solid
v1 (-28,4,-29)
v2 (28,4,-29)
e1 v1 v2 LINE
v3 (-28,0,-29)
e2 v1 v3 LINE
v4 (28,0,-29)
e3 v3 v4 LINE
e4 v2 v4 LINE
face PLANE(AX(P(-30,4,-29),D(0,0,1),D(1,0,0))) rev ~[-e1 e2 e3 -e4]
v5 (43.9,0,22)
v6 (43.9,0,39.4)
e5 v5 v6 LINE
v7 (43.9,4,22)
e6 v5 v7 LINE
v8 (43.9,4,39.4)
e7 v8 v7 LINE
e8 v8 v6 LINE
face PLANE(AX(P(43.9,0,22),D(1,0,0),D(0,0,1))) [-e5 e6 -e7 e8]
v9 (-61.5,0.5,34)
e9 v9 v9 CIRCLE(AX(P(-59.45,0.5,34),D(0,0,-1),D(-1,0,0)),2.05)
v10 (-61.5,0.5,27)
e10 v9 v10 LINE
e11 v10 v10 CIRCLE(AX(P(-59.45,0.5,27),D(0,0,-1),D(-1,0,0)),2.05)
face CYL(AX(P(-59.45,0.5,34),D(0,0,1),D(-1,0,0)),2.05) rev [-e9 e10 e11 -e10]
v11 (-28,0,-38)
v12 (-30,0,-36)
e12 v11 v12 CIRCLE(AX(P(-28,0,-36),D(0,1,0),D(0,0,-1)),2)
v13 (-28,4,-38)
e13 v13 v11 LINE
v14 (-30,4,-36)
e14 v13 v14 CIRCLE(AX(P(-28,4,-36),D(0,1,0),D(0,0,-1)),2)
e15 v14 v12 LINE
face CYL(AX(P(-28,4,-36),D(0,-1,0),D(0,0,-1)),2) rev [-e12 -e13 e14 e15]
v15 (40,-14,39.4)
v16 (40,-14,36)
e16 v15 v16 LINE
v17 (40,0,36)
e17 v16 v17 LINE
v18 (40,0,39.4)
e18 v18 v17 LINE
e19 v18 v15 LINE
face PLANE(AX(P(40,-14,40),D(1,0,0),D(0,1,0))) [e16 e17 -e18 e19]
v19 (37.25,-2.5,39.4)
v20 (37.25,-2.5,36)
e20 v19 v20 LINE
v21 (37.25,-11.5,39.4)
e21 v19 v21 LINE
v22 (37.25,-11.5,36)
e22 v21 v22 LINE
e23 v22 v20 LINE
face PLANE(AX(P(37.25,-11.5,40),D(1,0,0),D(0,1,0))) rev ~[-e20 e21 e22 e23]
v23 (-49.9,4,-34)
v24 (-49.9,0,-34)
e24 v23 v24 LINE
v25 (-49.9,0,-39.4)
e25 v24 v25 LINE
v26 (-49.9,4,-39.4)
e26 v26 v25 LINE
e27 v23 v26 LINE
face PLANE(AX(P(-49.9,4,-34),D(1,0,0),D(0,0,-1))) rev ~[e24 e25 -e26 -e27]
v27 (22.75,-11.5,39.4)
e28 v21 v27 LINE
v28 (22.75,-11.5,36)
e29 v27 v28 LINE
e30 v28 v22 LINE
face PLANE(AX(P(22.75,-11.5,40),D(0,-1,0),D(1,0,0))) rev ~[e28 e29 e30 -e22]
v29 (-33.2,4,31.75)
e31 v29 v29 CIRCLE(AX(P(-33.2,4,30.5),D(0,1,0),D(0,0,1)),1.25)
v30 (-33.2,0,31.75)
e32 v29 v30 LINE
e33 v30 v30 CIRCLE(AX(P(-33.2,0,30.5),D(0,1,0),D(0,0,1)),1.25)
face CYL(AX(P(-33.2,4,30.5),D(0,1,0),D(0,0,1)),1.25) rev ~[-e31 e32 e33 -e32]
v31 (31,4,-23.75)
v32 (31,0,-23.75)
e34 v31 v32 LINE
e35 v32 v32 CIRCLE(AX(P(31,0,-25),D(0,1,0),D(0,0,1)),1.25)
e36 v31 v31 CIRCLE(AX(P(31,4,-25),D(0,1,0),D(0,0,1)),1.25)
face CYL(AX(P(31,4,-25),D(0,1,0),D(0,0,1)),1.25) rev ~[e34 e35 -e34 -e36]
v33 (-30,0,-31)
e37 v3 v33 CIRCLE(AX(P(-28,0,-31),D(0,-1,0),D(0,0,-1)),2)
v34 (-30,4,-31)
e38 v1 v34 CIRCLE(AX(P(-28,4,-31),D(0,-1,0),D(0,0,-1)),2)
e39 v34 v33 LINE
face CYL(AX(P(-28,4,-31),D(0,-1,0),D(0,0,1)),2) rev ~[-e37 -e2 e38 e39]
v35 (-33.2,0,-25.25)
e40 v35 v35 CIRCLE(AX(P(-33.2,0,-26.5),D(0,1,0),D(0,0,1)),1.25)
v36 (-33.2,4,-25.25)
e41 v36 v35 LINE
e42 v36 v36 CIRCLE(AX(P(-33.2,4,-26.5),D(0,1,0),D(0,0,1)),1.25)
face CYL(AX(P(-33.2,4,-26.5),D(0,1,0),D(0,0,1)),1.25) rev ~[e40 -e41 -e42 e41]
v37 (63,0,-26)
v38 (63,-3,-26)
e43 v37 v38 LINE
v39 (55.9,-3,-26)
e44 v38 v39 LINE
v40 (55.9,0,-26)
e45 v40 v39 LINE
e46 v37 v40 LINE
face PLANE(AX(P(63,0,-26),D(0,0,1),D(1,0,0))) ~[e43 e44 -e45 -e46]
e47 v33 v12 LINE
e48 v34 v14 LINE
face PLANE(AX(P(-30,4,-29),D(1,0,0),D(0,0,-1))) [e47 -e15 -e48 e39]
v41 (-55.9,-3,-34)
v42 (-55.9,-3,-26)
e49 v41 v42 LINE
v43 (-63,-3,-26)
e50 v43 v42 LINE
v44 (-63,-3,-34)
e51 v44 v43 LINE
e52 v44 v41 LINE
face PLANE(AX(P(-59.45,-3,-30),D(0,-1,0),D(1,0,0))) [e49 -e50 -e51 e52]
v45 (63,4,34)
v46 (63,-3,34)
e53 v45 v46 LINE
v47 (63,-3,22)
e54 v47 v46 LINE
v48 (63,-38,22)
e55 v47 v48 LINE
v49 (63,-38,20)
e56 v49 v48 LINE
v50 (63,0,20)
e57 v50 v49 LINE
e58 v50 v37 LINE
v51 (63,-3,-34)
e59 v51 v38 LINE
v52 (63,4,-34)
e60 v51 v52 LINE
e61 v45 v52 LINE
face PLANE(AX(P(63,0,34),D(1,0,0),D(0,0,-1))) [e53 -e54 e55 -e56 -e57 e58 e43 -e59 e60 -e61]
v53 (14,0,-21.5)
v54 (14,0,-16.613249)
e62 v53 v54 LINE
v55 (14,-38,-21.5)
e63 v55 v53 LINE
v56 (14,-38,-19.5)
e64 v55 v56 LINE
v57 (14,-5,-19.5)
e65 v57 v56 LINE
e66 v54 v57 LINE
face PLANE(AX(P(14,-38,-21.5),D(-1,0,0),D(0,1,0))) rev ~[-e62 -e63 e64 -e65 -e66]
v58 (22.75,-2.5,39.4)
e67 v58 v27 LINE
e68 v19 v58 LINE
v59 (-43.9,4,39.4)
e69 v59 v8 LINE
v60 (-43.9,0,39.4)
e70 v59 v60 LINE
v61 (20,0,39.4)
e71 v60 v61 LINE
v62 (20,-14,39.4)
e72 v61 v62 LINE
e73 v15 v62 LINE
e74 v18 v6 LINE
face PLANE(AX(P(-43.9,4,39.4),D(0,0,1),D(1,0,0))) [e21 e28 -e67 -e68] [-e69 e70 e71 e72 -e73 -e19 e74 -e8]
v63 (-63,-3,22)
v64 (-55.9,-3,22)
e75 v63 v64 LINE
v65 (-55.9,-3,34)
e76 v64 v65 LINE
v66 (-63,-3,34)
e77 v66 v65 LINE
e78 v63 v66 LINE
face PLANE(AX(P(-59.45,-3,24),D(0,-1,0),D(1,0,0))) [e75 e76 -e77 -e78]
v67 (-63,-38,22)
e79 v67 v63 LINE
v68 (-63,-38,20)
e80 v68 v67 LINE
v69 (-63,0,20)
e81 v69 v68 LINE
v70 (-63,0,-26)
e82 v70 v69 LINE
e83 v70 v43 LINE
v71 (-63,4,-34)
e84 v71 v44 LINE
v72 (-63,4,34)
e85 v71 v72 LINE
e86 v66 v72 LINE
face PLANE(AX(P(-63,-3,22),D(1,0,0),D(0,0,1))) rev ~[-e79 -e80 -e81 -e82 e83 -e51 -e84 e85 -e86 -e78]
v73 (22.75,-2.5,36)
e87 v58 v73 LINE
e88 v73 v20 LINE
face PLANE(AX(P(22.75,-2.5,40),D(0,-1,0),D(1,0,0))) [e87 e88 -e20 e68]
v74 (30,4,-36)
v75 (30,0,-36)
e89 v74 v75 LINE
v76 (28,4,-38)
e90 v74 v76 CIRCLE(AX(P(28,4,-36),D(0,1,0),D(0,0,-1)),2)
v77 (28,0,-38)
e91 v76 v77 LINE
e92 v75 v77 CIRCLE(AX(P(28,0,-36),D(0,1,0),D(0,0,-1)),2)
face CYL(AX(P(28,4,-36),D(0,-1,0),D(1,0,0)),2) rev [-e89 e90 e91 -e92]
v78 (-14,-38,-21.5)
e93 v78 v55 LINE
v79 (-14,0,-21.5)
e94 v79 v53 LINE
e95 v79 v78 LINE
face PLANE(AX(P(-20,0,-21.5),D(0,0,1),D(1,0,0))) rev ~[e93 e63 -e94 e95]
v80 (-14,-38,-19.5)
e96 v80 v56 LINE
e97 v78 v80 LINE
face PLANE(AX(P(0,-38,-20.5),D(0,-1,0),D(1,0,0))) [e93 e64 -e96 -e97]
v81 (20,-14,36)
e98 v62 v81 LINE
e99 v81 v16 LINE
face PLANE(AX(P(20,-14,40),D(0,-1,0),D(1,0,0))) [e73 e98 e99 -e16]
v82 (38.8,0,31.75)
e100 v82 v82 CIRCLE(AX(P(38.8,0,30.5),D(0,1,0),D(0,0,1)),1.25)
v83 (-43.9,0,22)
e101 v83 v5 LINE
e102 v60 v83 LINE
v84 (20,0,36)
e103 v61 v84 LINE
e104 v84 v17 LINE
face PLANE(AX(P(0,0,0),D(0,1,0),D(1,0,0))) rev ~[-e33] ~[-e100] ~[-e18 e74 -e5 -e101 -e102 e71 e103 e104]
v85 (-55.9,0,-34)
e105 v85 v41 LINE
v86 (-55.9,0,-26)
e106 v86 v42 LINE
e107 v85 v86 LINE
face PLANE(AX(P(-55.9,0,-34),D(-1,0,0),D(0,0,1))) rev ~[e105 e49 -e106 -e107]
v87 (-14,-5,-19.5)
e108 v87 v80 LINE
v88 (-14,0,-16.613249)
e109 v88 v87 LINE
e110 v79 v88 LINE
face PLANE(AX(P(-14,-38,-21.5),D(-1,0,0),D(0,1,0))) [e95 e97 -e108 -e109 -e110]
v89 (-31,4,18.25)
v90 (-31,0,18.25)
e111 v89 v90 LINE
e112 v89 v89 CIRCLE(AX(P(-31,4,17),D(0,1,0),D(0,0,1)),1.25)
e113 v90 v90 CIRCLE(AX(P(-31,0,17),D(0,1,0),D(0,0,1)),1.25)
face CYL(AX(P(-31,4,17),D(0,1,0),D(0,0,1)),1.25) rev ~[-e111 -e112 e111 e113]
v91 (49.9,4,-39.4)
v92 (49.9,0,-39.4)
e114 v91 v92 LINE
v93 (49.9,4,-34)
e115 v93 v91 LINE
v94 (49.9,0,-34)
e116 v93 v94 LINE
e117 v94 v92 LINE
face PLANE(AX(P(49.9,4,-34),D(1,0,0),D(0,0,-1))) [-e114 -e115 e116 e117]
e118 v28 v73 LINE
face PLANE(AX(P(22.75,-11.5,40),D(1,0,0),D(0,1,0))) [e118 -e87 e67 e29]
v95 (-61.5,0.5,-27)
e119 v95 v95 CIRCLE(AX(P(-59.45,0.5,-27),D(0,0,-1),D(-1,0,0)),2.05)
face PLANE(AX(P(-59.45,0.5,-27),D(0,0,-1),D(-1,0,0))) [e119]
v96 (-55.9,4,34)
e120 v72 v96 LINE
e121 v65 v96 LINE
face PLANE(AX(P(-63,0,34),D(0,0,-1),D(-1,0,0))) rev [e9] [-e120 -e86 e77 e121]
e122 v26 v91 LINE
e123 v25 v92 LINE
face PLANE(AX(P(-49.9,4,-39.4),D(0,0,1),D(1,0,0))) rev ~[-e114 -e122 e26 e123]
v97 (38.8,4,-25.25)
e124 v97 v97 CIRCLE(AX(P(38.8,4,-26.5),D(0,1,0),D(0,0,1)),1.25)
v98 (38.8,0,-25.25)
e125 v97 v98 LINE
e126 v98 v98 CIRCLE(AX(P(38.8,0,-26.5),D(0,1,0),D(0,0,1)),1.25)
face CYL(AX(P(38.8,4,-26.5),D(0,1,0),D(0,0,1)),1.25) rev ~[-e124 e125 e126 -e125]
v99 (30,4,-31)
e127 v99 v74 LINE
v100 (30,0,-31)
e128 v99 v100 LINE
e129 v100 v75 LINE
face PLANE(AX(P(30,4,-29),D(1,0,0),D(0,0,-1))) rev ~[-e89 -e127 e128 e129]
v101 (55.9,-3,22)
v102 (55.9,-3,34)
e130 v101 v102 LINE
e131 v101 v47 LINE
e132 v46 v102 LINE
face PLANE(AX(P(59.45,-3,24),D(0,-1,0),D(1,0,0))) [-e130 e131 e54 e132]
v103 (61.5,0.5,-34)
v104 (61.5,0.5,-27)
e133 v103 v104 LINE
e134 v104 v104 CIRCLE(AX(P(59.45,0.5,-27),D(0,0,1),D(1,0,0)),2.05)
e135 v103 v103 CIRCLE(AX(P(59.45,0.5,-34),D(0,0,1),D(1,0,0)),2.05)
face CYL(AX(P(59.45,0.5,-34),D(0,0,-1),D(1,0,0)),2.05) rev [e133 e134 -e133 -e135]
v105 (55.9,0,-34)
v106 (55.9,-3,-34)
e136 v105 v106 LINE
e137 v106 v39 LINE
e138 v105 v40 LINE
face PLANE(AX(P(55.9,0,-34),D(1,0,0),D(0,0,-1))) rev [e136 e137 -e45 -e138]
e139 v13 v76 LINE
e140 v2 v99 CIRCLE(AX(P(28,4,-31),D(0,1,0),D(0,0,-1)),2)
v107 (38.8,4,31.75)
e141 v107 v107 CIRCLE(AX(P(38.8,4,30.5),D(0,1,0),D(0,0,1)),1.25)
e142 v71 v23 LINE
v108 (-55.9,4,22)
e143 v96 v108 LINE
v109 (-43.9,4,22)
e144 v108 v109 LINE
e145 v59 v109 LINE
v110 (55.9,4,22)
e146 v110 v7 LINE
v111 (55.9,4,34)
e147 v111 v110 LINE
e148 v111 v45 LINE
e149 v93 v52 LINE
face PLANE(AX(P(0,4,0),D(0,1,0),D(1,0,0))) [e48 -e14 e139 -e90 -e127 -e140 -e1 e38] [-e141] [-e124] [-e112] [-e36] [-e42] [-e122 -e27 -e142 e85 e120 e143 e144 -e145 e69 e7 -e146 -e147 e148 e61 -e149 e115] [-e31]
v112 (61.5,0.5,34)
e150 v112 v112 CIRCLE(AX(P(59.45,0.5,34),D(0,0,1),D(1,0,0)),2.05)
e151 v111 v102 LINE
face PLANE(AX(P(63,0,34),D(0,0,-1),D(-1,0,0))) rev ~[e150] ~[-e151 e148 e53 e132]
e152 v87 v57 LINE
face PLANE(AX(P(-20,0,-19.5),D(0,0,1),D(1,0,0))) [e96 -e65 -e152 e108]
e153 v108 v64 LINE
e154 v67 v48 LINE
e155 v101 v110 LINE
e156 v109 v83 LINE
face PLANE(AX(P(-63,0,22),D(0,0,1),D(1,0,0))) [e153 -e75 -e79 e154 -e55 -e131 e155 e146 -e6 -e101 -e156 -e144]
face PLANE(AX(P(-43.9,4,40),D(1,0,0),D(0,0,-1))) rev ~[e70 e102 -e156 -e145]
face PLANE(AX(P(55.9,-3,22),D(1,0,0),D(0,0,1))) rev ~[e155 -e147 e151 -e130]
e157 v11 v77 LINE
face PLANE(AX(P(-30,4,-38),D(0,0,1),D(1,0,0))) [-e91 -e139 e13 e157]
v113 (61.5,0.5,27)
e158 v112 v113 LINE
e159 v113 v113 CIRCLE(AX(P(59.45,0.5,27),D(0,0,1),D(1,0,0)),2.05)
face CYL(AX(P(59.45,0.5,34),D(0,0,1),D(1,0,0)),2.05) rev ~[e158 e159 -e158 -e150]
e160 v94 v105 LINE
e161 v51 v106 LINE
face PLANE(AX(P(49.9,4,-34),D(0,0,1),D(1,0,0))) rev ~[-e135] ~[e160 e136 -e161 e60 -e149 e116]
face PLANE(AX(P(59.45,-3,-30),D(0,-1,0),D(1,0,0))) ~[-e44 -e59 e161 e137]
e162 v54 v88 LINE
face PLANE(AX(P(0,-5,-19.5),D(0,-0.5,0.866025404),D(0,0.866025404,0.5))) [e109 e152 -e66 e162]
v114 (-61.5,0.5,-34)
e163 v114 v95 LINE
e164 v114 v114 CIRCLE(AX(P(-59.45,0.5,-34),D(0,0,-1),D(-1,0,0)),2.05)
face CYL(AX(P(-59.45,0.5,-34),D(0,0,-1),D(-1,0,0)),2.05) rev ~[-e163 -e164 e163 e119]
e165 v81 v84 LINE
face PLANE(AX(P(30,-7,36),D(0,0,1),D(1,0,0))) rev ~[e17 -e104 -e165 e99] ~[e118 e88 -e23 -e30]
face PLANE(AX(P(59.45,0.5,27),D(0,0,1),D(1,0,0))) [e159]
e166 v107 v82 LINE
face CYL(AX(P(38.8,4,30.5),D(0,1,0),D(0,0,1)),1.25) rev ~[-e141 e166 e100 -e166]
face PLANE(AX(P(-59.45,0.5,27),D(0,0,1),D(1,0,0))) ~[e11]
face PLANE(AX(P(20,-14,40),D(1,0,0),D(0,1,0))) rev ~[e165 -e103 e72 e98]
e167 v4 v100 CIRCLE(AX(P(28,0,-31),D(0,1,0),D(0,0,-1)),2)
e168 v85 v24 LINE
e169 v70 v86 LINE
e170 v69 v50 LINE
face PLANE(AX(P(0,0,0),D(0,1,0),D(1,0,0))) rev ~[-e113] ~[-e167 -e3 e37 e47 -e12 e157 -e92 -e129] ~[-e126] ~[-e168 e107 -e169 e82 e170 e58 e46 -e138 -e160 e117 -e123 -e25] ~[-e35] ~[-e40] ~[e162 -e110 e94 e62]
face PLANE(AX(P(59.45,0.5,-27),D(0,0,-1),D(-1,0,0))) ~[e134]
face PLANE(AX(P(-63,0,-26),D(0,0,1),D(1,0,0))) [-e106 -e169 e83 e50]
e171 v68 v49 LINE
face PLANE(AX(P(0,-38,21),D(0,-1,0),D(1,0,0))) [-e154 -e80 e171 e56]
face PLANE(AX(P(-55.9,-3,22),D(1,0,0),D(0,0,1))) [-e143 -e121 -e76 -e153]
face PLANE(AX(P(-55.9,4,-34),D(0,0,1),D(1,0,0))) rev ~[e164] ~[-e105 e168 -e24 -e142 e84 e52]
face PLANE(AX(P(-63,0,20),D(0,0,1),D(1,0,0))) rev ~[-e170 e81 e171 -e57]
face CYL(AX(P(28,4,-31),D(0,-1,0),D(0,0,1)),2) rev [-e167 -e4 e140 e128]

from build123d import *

# Parameters (mm, degrees)
BOSS_EXTRUDE1_DEPTH             = 4
SKETCH3_W                       = 7.1
SKETCH3_H                       = 8
BOSS_EXTRUDE3_DEPTH             = 3
SKETCH4_R                       = 2.05
CUT_EXTRUDE1_DEPTH              = 7
MIRROR2_COPY_1_SKETCH_W         = 7.1
MIRROR2_COPY_1_SKETCH_H         = 8
MIRROR2_COPY_1_DEPTH            = 3
MIRROR2_COPY_2_SKETCH_R         = 2.05
MIRROR2_COPY_2_DEPTH            = 7
SKETCH5_W                       = 60
SKETCH5_H                       = 9
CUT_EXTRUDE2_DEPTH              = 76.4917214
FILLET1_R                       = 2
SKETCH7_W                       = 111.8
SKETCH7_H                       = 1
CUT_EXTRUDE3_DEPTH              = 76.4917214
SKETCH8_W                       = 126
SKETCH8_H                       = 2
BOSS_EXTRUDE4_DEPTH             = 38
SKETCH9_W                       = 12
SKETCH9_H                       = 18
CUT_EXTRUDE4_DEPTH              = 10
SKETCH10_W                      = 7.1
SKETCH10_H                      = 4
BOSS_EXTRUDE5_DEPTH             = 3
SKETCH12_W                      = 1.5
SKETCH12_H                      = 4
BOSS_EXTRUDE6_DEPTH             = 2
SKETCH13_W                      = 40
SKETCH13_H                      = 2
BOSS_EXTRUDE7_DEPTH             = 38
SKETCH14_W                      = 1.5
SKETCH14_H                      = 4
BOSS_EXTRUDE8_DEPTH             = 1
BOSS_EXTRUDE9_REACH             = 85.744
BOSS_EXTRUDE9_DIRECTION_2_REACH = 85.744
SKETCH16_W                      = 20
SKETCH16_H                      = 14
SKETCH16_W_2                    = 14.5
SKETCH16_H_2                    = 9
BOSS_EXTRUDE10_DEPTH            = 4
SKETCH17_W                      = 12
SKETCH17_H                      = 18
CUT_EXTRUDE5_DEPTH              = 84.743656476
SKETCH18_W                      = 6
SKETCH18_H                      = 6
CUT_EXTRUDE6_DEPTH              = 86.632937588
SKETCH22_R                      = 1.25
CUT_EXTRUDE7_DEPTH              = 4
SKETCH25_W                      = 6
SKETCH25_H                      = 38
CUT_EXTRUDE11_DEPTH             = 10
SKETCH26_W                      = 5.701552738
SKETCH26_H                      = 30.562488548
SKETCH26_W_2                    = 6.53419365
SKETCH26_H_2                    = 28.524331859
CUT_EXTRUDE12_DEPTH             = 85.498520697
CUT_EXTRUDE12_DEPTH_BACK        = 85.498520697
SKETCH27_R                      = 1.25
CUT_EXTRUDE13_DEPTH             = 86.632937588
SKETCH28_W                      = 99.8
SKETCH28_H                      = 0.6
SKETCH28_W_2                    = 87.8
CUT_EXTRUDE14_DEPTH             = 86.632937588


with BuildPart() as part:
    # Sketch1 → Boss-Extrude1 (new body)
    with BuildSketch(Plane(origin=(0, 0, 0), x_dir=(1, 0, 0), z_dir=(0, 1, 0))):
        Polygon((-63, -34), (-55.9, -34), (-55.9, -41), (55.9, -41), (55.9, -34), (63, -34), (63, 34), (55.9, 34), (55.9, 41), (-55.9, 41), (-55.9, 34), (-63, 34), align=None)
    extrude(amount=BOSS_EXTRUDE1_DEPTH)

    # Sketch3 → Boss-Extrude3 (add)
    with BuildSketch(Plane.XZ):
        with Locations((-59.45, -30)):
            Rectangle(SKETCH3_W, SKETCH3_H)
    boss_extrude3 = extrude(amount=BOSS_EXTRUDE3_DEPTH)

    # Sketch4 → Cut-Extrude1 (cut)
    with BuildSketch(Plane(origin=(0, 0, -34), x_dir=(-1, 0, 0), z_dir=(0, 0, -1))):
        with Locations((59.45, 0.5)):
            Circle(SKETCH4_R)
    cut_extrude1 = extrude(amount=-CUT_EXTRUDE1_DEPTH, mode=Mode.SUBTRACT)

    # Mirror1: Boss-Extrude3, Cut-Extrude1 across plane
    add(boss_extrude3.mirror(Plane(origin=(0, 0, 0), x_dir=(0, 0, 1), z_dir=(1, 0, 0))))
    add(cut_extrude1.mirror(Plane(origin=(0, 0, 0), x_dir=(0, 0, 1), z_dir=(1, 0, 0))), mode=Mode.SUBTRACT)

    # Mirror2: Boss-Extrude3, Cut-Extrude1 across plane
    add(boss_extrude3.mirror(Plane.XY))
    add(cut_extrude1.mirror(Plane.XY), mode=Mode.SUBTRACT)

    # Mirror2 copy 1 sketch → Mirror2 copy 1 (add)
    with BuildSketch(Plane(origin=(0, 0, 0), x_dir=(-1, 0, 0), z_dir=(0, -1, 0))):
        with Locations((-59.45, -30)):
            Rectangle(MIRROR2_COPY_1_SKETCH_W, MIRROR2_COPY_1_SKETCH_H)
    extrude(amount=MIRROR2_COPY_1_DEPTH)

    # Mirror2 copy 2 sketch → Mirror2 copy 2 (cut)
    with BuildSketch(Plane.XY.offset(34)):
        with Locations((59.45, 0.5)):
            Circle(MIRROR2_COPY_2_SKETCH_R)
    extrude(amount=-MIRROR2_COPY_2_DEPTH, mode=Mode.SUBTRACT)

    # Sketch5 → Cut-Extrude2 (cut, through all)
    with BuildSketch(Plane(origin=(0, 4, 0), x_dir=(1, 0, 0), z_dir=(0, 1, 0))):
        with Locations((0, 33.5)):
            Rectangle(SKETCH5_W, SKETCH5_H)
    extrude(amount=-CUT_EXTRUDE2_DEPTH, mode=Mode.SUBTRACT)

    # Fillet1
    fillet1_edges = [part.edges().sort_by_distance(p)[0] for p in [
        (-30, 2, -29),
        (-30, 2, -38),
        (30, 2, -38),
        (30, 2, -29),
    ]]
    fillet(fillet1_edges, radius=FILLET1_R)

    # Sketch7 → Cut-Extrude3 (cut, through all)
    with BuildSketch(Plane(origin=(0, 4, 0), x_dir=(1, 0, 0), z_dir=(0, 1, 0))):
        with Locations((0, 40.5)):
            Rectangle(SKETCH7_W, SKETCH7_H)
        with Locations((0, -40.5)):
            Rectangle(SKETCH7_W, SKETCH7_H)
    extrude(amount=-CUT_EXTRUDE3_DEPTH, mode=Mode.SUBTRACT)

    # Sketch8 → Boss-Extrude4 (add)
    with BuildSketch(Plane.XZ):
        with Locations((0, 21)):
            Rectangle(SKETCH8_W, SKETCH8_H)
    extrude(amount=BOSS_EXTRUDE4_DEPTH)

    # Sketch9 → Cut-Extrude4 (cut)
    with BuildSketch(Plane(origin=(0, 4, 0), x_dir=(1, 0, 0), z_dir=(0, 1, 0))):
        with Locations((-49.9, -31)):
            Rectangle(SKETCH9_W, SKETCH9_H)
    extrude(amount=-CUT_EXTRUDE4_DEPTH, mode=Mode.SUBTRACT)

    # Sketch10 → Boss-Extrude5 (add)
    with BuildSketch(Plane.XZ.offset(3)):
        with Locations((-59.45, 24)):
            Rectangle(SKETCH10_W, SKETCH10_H)
        with Locations((59.45, 24)):
            Rectangle(SKETCH10_W, SKETCH10_H)
    extrude(amount=-BOSS_EXTRUDE5_DEPTH)

    # Sketch12 → Boss-Extrude6 (add)
    with BuildSketch(Plane.ZY.offset(56)):
        Polygon((22, -5.8), (22, -16.2), (24.7, -13.5), (24.7, -8.5), align=None)
        with Locations((23.35, -11)):
            Rectangle(SKETCH12_W, SKETCH12_H, mode=Mode.SUBTRACT)
        Polygon((22, -20.8), (22, -31.2), (24.7, -28.5), (24.7, -23.5), align=None)
        with Locations((23.35, -26)):
            Rectangle(SKETCH12_W, SKETCH12_H, mode=Mode.SUBTRACT)
    boss_extrude6 = extrude(amount=-BOSS_EXTRUDE6_DEPTH)

    # Mirror3: Boss-Extrude6 across plane
    add(boss_extrude6.mirror(Plane(origin=(-49.9, 0, 0), x_dir=(0, 0, 1), z_dir=(1, 0, 0))))

    # Sketch13 → Boss-Extrude7 (add)
    with BuildSketch(Plane.XZ):
        with Locations((0, -20.5)):
            Rectangle(SKETCH13_W, SKETCH13_H)
    extrude(amount=BOSS_EXTRUDE7_DEPTH)

    # Sketch14 → Boss-Extrude8 (add, symmetric)
    with BuildSketch(Plane(origin=(0, 0, 0), x_dir=(0, 0, -1), z_dir=(1, 0, 0))):
        Polygon((24.2, -8.5), (21.5, -5.8), (21.5, -16.2), (24.2, -13.5), align=None)
        with Locations((22.85, -11)):
            Rectangle(SKETCH14_W, SKETCH14_H, mode=Mode.SUBTRACT)
        Polygon((24.2, -28.5), (24.2, -23.5), (21.5, -20.8), (21.5, -31.2), align=None)
        with Locations((22.85, -26)):
            Rectangle(SKETCH14_W, SKETCH14_H, mode=Mode.SUBTRACT)
    extrude(amount=BOSS_EXTRUDE8_DEPTH, both=True)

    # Boss-Extrude9: up to this face of the body (flat: up to its plane)
    boss_extrude9_end = Plane(part.part.faces().sort_by_distance((-20, -19, -20.5))[0])
    # Sketch15 → Boss-Extrude9 (add, up to the picked face)
    with BuildSketch(Plane(origin=(0, 0, 0), x_dir=(0, 0, -1), z_dir=(1, 0, 0)), mode=Mode.PRIVATE) as boss_extrude9_sk1:
        Polygon((19.5, 0), (19.5, -5), (16.613248654, 0), align=None)
    boss_extrude9_tool1 = split(extrude(boss_extrude9_sk1.sketch, amount=-BOSS_EXTRUDE9_REACH, mode=Mode.PRIVATE), bisect_by=boss_extrude9_end, keep=Keep.BOTH, mode=Mode.PRIVATE)
    add(boss_extrude9_tool1.solids().sort_by(Axis((0, -1.666667, -18.53775), (-1, 0, 0)))[0])

    # Boss-Extrude9 direction 2: up to this face of the body (flat: up to its plane)
    boss_extrude9_direction_2_end = Plane(part.part.faces().sort_by_distance((20, -19, -20.5))[0])
    # Sketch15 → Boss-Extrude9 direction 2 (add, up to the picked face)
    with BuildSketch(Plane(origin=(0, 0, 0), x_dir=(0, 0, -1), z_dir=(1, 0, 0)), mode=Mode.PRIVATE) as boss_extrude9_direction_2_sk1:
        Polygon((19.5, 0), (19.5, -5), (16.613248654, 0), align=None)
    boss_extrude9_direction_2_tool1 = split(extrude(boss_extrude9_direction_2_sk1.sketch, amount=BOSS_EXTRUDE9_DIRECTION_2_REACH, mode=Mode.PRIVATE), bisect_by=boss_extrude9_direction_2_end, keep=Keep.BOTH, mode=Mode.PRIVATE)
    add(boss_extrude9_direction_2_tool1.solids().sort_by(Axis((0, -1.666667, -18.53775), (1, 0, 0)))[0])

    # Sketch16 → Boss-Extrude10 (add)
    with BuildSketch(Plane.XY.offset(40)):
        with Locations((30, -7)):
            Rectangle(SKETCH16_W, SKETCH16_H)
        with Locations((30, -7)):
            Rectangle(SKETCH16_W_2, SKETCH16_H_2, mode=Mode.SUBTRACT)
    extrude(amount=-BOSS_EXTRUDE10_DEPTH)

    # Sketch17 → Cut-Extrude5 (cut, through all)
    with BuildSketch(Plane.XZ):
        with Locations((49.9, 31)):
            Rectangle(SKETCH17_W, SKETCH17_H)
    extrude(amount=-CUT_EXTRUDE5_DEPTH, mode=Mode.SUBTRACT)

    # Sketch18 → Cut-Extrude6 (cut, through all)
    with BuildSketch(Plane(origin=(0, 4, 0), x_dir=(1, 0, 0), z_dir=(0, 1, 0))):
        with Locations((52.9, 37)):
            Rectangle(SKETCH18_W, SKETCH18_H)
        with Locations((-52.9, 37)):
            Rectangle(SKETCH18_W, SKETCH18_H)
    extrude(amount=-CUT_EXTRUDE6_DEPTH, mode=Mode.SUBTRACT)

    # Sketch22 → Cut-Extrude7 (cut)
    with BuildSketch(Plane(origin=(0, 4, 0), x_dir=(1, 0, 0), z_dir=(0, 1, 0))):
        with Locations(Location((31, 25, 0), (0, 0, 270))):
            Circle(SKETCH22_R)
        with Locations(Location((-31, -17, 0), (0, 0, 270))):
            Circle(SKETCH22_R)
    extrude(amount=-CUT_EXTRUDE7_DEPTH, mode=Mode.SUBTRACT)

    # Sketch25 → Cut-Extrude11 (cut)
    with BuildSketch(Plane(origin=(0, 0, -21.5), x_dir=(-1, 0, 0), z_dir=(0, 0, -1))):
        with Locations((-17, -19)):
            Rectangle(SKETCH25_W, SKETCH25_H)
        with Locations((17, -19)):
            Rectangle(SKETCH25_W, SKETCH25_H)
    extrude(amount=-CUT_EXTRUDE11_DEPTH, mode=Mode.SUBTRACT)

    # Sketch26 → Cut-Extrude12 (cut, two sides)
    with BuildSketch(Plane.ZY.offset(1)) as cut_extrude12_sk:
        with Locations((-24.350776369, -21.081244274)):
            Rectangle(SKETCH26_W, SKETCH26_H)
        with Locations((25.267096825, -20.06216593)):
            Rectangle(SKETCH26_W_2, SKETCH26_H_2)
    extrude(amount=CUT_EXTRUDE12_DEPTH, mode=Mode.SUBTRACT)
    extrude(cut_extrude12_sk.sketch, amount=-CUT_EXTRUDE12_DEPTH_BACK, mode=Mode.SUBTRACT)

    # Sketch27 → Cut-Extrude13 (cut, through all)
    with BuildSketch(Plane(origin=(0, 4, 0), x_dir=(1, 0, 0), z_dir=(0, 1, 0))):
        with Locations(Location((-33.2, 26.5, 0), (0, 0, 270))):
            Circle(SKETCH27_R)
        with Locations(Location((-33.2, -30.5, 0), (0, 0, 270))):
            Circle(SKETCH27_R)
        with Locations(Location((38.8, -30.5, 0), (0, 0, 270))):
            Circle(SKETCH27_R)
        with Locations(Location((38.8, 26.5, 0), (0, 0, 270))):
            Circle(SKETCH27_R)
    extrude(amount=-CUT_EXTRUDE13_DEPTH, mode=Mode.SUBTRACT)

    # Sketch28 → Cut-Extrude14 (cut, through all)
    with BuildSketch(Plane(origin=(0, 4, 0), x_dir=(1, 0, 0), z_dir=(0, 1, 0))):
        with Locations((0, 39.7)):
            Rectangle(SKETCH28_W, SKETCH28_H)
        with Locations((0, -39.7)):
            Rectangle(SKETCH28_W_2, SKETCH28_H)
    extrude(amount=-CUT_EXTRUDE14_DEPTH, mode=Mode.SUBTRACT)


solid = part.part
